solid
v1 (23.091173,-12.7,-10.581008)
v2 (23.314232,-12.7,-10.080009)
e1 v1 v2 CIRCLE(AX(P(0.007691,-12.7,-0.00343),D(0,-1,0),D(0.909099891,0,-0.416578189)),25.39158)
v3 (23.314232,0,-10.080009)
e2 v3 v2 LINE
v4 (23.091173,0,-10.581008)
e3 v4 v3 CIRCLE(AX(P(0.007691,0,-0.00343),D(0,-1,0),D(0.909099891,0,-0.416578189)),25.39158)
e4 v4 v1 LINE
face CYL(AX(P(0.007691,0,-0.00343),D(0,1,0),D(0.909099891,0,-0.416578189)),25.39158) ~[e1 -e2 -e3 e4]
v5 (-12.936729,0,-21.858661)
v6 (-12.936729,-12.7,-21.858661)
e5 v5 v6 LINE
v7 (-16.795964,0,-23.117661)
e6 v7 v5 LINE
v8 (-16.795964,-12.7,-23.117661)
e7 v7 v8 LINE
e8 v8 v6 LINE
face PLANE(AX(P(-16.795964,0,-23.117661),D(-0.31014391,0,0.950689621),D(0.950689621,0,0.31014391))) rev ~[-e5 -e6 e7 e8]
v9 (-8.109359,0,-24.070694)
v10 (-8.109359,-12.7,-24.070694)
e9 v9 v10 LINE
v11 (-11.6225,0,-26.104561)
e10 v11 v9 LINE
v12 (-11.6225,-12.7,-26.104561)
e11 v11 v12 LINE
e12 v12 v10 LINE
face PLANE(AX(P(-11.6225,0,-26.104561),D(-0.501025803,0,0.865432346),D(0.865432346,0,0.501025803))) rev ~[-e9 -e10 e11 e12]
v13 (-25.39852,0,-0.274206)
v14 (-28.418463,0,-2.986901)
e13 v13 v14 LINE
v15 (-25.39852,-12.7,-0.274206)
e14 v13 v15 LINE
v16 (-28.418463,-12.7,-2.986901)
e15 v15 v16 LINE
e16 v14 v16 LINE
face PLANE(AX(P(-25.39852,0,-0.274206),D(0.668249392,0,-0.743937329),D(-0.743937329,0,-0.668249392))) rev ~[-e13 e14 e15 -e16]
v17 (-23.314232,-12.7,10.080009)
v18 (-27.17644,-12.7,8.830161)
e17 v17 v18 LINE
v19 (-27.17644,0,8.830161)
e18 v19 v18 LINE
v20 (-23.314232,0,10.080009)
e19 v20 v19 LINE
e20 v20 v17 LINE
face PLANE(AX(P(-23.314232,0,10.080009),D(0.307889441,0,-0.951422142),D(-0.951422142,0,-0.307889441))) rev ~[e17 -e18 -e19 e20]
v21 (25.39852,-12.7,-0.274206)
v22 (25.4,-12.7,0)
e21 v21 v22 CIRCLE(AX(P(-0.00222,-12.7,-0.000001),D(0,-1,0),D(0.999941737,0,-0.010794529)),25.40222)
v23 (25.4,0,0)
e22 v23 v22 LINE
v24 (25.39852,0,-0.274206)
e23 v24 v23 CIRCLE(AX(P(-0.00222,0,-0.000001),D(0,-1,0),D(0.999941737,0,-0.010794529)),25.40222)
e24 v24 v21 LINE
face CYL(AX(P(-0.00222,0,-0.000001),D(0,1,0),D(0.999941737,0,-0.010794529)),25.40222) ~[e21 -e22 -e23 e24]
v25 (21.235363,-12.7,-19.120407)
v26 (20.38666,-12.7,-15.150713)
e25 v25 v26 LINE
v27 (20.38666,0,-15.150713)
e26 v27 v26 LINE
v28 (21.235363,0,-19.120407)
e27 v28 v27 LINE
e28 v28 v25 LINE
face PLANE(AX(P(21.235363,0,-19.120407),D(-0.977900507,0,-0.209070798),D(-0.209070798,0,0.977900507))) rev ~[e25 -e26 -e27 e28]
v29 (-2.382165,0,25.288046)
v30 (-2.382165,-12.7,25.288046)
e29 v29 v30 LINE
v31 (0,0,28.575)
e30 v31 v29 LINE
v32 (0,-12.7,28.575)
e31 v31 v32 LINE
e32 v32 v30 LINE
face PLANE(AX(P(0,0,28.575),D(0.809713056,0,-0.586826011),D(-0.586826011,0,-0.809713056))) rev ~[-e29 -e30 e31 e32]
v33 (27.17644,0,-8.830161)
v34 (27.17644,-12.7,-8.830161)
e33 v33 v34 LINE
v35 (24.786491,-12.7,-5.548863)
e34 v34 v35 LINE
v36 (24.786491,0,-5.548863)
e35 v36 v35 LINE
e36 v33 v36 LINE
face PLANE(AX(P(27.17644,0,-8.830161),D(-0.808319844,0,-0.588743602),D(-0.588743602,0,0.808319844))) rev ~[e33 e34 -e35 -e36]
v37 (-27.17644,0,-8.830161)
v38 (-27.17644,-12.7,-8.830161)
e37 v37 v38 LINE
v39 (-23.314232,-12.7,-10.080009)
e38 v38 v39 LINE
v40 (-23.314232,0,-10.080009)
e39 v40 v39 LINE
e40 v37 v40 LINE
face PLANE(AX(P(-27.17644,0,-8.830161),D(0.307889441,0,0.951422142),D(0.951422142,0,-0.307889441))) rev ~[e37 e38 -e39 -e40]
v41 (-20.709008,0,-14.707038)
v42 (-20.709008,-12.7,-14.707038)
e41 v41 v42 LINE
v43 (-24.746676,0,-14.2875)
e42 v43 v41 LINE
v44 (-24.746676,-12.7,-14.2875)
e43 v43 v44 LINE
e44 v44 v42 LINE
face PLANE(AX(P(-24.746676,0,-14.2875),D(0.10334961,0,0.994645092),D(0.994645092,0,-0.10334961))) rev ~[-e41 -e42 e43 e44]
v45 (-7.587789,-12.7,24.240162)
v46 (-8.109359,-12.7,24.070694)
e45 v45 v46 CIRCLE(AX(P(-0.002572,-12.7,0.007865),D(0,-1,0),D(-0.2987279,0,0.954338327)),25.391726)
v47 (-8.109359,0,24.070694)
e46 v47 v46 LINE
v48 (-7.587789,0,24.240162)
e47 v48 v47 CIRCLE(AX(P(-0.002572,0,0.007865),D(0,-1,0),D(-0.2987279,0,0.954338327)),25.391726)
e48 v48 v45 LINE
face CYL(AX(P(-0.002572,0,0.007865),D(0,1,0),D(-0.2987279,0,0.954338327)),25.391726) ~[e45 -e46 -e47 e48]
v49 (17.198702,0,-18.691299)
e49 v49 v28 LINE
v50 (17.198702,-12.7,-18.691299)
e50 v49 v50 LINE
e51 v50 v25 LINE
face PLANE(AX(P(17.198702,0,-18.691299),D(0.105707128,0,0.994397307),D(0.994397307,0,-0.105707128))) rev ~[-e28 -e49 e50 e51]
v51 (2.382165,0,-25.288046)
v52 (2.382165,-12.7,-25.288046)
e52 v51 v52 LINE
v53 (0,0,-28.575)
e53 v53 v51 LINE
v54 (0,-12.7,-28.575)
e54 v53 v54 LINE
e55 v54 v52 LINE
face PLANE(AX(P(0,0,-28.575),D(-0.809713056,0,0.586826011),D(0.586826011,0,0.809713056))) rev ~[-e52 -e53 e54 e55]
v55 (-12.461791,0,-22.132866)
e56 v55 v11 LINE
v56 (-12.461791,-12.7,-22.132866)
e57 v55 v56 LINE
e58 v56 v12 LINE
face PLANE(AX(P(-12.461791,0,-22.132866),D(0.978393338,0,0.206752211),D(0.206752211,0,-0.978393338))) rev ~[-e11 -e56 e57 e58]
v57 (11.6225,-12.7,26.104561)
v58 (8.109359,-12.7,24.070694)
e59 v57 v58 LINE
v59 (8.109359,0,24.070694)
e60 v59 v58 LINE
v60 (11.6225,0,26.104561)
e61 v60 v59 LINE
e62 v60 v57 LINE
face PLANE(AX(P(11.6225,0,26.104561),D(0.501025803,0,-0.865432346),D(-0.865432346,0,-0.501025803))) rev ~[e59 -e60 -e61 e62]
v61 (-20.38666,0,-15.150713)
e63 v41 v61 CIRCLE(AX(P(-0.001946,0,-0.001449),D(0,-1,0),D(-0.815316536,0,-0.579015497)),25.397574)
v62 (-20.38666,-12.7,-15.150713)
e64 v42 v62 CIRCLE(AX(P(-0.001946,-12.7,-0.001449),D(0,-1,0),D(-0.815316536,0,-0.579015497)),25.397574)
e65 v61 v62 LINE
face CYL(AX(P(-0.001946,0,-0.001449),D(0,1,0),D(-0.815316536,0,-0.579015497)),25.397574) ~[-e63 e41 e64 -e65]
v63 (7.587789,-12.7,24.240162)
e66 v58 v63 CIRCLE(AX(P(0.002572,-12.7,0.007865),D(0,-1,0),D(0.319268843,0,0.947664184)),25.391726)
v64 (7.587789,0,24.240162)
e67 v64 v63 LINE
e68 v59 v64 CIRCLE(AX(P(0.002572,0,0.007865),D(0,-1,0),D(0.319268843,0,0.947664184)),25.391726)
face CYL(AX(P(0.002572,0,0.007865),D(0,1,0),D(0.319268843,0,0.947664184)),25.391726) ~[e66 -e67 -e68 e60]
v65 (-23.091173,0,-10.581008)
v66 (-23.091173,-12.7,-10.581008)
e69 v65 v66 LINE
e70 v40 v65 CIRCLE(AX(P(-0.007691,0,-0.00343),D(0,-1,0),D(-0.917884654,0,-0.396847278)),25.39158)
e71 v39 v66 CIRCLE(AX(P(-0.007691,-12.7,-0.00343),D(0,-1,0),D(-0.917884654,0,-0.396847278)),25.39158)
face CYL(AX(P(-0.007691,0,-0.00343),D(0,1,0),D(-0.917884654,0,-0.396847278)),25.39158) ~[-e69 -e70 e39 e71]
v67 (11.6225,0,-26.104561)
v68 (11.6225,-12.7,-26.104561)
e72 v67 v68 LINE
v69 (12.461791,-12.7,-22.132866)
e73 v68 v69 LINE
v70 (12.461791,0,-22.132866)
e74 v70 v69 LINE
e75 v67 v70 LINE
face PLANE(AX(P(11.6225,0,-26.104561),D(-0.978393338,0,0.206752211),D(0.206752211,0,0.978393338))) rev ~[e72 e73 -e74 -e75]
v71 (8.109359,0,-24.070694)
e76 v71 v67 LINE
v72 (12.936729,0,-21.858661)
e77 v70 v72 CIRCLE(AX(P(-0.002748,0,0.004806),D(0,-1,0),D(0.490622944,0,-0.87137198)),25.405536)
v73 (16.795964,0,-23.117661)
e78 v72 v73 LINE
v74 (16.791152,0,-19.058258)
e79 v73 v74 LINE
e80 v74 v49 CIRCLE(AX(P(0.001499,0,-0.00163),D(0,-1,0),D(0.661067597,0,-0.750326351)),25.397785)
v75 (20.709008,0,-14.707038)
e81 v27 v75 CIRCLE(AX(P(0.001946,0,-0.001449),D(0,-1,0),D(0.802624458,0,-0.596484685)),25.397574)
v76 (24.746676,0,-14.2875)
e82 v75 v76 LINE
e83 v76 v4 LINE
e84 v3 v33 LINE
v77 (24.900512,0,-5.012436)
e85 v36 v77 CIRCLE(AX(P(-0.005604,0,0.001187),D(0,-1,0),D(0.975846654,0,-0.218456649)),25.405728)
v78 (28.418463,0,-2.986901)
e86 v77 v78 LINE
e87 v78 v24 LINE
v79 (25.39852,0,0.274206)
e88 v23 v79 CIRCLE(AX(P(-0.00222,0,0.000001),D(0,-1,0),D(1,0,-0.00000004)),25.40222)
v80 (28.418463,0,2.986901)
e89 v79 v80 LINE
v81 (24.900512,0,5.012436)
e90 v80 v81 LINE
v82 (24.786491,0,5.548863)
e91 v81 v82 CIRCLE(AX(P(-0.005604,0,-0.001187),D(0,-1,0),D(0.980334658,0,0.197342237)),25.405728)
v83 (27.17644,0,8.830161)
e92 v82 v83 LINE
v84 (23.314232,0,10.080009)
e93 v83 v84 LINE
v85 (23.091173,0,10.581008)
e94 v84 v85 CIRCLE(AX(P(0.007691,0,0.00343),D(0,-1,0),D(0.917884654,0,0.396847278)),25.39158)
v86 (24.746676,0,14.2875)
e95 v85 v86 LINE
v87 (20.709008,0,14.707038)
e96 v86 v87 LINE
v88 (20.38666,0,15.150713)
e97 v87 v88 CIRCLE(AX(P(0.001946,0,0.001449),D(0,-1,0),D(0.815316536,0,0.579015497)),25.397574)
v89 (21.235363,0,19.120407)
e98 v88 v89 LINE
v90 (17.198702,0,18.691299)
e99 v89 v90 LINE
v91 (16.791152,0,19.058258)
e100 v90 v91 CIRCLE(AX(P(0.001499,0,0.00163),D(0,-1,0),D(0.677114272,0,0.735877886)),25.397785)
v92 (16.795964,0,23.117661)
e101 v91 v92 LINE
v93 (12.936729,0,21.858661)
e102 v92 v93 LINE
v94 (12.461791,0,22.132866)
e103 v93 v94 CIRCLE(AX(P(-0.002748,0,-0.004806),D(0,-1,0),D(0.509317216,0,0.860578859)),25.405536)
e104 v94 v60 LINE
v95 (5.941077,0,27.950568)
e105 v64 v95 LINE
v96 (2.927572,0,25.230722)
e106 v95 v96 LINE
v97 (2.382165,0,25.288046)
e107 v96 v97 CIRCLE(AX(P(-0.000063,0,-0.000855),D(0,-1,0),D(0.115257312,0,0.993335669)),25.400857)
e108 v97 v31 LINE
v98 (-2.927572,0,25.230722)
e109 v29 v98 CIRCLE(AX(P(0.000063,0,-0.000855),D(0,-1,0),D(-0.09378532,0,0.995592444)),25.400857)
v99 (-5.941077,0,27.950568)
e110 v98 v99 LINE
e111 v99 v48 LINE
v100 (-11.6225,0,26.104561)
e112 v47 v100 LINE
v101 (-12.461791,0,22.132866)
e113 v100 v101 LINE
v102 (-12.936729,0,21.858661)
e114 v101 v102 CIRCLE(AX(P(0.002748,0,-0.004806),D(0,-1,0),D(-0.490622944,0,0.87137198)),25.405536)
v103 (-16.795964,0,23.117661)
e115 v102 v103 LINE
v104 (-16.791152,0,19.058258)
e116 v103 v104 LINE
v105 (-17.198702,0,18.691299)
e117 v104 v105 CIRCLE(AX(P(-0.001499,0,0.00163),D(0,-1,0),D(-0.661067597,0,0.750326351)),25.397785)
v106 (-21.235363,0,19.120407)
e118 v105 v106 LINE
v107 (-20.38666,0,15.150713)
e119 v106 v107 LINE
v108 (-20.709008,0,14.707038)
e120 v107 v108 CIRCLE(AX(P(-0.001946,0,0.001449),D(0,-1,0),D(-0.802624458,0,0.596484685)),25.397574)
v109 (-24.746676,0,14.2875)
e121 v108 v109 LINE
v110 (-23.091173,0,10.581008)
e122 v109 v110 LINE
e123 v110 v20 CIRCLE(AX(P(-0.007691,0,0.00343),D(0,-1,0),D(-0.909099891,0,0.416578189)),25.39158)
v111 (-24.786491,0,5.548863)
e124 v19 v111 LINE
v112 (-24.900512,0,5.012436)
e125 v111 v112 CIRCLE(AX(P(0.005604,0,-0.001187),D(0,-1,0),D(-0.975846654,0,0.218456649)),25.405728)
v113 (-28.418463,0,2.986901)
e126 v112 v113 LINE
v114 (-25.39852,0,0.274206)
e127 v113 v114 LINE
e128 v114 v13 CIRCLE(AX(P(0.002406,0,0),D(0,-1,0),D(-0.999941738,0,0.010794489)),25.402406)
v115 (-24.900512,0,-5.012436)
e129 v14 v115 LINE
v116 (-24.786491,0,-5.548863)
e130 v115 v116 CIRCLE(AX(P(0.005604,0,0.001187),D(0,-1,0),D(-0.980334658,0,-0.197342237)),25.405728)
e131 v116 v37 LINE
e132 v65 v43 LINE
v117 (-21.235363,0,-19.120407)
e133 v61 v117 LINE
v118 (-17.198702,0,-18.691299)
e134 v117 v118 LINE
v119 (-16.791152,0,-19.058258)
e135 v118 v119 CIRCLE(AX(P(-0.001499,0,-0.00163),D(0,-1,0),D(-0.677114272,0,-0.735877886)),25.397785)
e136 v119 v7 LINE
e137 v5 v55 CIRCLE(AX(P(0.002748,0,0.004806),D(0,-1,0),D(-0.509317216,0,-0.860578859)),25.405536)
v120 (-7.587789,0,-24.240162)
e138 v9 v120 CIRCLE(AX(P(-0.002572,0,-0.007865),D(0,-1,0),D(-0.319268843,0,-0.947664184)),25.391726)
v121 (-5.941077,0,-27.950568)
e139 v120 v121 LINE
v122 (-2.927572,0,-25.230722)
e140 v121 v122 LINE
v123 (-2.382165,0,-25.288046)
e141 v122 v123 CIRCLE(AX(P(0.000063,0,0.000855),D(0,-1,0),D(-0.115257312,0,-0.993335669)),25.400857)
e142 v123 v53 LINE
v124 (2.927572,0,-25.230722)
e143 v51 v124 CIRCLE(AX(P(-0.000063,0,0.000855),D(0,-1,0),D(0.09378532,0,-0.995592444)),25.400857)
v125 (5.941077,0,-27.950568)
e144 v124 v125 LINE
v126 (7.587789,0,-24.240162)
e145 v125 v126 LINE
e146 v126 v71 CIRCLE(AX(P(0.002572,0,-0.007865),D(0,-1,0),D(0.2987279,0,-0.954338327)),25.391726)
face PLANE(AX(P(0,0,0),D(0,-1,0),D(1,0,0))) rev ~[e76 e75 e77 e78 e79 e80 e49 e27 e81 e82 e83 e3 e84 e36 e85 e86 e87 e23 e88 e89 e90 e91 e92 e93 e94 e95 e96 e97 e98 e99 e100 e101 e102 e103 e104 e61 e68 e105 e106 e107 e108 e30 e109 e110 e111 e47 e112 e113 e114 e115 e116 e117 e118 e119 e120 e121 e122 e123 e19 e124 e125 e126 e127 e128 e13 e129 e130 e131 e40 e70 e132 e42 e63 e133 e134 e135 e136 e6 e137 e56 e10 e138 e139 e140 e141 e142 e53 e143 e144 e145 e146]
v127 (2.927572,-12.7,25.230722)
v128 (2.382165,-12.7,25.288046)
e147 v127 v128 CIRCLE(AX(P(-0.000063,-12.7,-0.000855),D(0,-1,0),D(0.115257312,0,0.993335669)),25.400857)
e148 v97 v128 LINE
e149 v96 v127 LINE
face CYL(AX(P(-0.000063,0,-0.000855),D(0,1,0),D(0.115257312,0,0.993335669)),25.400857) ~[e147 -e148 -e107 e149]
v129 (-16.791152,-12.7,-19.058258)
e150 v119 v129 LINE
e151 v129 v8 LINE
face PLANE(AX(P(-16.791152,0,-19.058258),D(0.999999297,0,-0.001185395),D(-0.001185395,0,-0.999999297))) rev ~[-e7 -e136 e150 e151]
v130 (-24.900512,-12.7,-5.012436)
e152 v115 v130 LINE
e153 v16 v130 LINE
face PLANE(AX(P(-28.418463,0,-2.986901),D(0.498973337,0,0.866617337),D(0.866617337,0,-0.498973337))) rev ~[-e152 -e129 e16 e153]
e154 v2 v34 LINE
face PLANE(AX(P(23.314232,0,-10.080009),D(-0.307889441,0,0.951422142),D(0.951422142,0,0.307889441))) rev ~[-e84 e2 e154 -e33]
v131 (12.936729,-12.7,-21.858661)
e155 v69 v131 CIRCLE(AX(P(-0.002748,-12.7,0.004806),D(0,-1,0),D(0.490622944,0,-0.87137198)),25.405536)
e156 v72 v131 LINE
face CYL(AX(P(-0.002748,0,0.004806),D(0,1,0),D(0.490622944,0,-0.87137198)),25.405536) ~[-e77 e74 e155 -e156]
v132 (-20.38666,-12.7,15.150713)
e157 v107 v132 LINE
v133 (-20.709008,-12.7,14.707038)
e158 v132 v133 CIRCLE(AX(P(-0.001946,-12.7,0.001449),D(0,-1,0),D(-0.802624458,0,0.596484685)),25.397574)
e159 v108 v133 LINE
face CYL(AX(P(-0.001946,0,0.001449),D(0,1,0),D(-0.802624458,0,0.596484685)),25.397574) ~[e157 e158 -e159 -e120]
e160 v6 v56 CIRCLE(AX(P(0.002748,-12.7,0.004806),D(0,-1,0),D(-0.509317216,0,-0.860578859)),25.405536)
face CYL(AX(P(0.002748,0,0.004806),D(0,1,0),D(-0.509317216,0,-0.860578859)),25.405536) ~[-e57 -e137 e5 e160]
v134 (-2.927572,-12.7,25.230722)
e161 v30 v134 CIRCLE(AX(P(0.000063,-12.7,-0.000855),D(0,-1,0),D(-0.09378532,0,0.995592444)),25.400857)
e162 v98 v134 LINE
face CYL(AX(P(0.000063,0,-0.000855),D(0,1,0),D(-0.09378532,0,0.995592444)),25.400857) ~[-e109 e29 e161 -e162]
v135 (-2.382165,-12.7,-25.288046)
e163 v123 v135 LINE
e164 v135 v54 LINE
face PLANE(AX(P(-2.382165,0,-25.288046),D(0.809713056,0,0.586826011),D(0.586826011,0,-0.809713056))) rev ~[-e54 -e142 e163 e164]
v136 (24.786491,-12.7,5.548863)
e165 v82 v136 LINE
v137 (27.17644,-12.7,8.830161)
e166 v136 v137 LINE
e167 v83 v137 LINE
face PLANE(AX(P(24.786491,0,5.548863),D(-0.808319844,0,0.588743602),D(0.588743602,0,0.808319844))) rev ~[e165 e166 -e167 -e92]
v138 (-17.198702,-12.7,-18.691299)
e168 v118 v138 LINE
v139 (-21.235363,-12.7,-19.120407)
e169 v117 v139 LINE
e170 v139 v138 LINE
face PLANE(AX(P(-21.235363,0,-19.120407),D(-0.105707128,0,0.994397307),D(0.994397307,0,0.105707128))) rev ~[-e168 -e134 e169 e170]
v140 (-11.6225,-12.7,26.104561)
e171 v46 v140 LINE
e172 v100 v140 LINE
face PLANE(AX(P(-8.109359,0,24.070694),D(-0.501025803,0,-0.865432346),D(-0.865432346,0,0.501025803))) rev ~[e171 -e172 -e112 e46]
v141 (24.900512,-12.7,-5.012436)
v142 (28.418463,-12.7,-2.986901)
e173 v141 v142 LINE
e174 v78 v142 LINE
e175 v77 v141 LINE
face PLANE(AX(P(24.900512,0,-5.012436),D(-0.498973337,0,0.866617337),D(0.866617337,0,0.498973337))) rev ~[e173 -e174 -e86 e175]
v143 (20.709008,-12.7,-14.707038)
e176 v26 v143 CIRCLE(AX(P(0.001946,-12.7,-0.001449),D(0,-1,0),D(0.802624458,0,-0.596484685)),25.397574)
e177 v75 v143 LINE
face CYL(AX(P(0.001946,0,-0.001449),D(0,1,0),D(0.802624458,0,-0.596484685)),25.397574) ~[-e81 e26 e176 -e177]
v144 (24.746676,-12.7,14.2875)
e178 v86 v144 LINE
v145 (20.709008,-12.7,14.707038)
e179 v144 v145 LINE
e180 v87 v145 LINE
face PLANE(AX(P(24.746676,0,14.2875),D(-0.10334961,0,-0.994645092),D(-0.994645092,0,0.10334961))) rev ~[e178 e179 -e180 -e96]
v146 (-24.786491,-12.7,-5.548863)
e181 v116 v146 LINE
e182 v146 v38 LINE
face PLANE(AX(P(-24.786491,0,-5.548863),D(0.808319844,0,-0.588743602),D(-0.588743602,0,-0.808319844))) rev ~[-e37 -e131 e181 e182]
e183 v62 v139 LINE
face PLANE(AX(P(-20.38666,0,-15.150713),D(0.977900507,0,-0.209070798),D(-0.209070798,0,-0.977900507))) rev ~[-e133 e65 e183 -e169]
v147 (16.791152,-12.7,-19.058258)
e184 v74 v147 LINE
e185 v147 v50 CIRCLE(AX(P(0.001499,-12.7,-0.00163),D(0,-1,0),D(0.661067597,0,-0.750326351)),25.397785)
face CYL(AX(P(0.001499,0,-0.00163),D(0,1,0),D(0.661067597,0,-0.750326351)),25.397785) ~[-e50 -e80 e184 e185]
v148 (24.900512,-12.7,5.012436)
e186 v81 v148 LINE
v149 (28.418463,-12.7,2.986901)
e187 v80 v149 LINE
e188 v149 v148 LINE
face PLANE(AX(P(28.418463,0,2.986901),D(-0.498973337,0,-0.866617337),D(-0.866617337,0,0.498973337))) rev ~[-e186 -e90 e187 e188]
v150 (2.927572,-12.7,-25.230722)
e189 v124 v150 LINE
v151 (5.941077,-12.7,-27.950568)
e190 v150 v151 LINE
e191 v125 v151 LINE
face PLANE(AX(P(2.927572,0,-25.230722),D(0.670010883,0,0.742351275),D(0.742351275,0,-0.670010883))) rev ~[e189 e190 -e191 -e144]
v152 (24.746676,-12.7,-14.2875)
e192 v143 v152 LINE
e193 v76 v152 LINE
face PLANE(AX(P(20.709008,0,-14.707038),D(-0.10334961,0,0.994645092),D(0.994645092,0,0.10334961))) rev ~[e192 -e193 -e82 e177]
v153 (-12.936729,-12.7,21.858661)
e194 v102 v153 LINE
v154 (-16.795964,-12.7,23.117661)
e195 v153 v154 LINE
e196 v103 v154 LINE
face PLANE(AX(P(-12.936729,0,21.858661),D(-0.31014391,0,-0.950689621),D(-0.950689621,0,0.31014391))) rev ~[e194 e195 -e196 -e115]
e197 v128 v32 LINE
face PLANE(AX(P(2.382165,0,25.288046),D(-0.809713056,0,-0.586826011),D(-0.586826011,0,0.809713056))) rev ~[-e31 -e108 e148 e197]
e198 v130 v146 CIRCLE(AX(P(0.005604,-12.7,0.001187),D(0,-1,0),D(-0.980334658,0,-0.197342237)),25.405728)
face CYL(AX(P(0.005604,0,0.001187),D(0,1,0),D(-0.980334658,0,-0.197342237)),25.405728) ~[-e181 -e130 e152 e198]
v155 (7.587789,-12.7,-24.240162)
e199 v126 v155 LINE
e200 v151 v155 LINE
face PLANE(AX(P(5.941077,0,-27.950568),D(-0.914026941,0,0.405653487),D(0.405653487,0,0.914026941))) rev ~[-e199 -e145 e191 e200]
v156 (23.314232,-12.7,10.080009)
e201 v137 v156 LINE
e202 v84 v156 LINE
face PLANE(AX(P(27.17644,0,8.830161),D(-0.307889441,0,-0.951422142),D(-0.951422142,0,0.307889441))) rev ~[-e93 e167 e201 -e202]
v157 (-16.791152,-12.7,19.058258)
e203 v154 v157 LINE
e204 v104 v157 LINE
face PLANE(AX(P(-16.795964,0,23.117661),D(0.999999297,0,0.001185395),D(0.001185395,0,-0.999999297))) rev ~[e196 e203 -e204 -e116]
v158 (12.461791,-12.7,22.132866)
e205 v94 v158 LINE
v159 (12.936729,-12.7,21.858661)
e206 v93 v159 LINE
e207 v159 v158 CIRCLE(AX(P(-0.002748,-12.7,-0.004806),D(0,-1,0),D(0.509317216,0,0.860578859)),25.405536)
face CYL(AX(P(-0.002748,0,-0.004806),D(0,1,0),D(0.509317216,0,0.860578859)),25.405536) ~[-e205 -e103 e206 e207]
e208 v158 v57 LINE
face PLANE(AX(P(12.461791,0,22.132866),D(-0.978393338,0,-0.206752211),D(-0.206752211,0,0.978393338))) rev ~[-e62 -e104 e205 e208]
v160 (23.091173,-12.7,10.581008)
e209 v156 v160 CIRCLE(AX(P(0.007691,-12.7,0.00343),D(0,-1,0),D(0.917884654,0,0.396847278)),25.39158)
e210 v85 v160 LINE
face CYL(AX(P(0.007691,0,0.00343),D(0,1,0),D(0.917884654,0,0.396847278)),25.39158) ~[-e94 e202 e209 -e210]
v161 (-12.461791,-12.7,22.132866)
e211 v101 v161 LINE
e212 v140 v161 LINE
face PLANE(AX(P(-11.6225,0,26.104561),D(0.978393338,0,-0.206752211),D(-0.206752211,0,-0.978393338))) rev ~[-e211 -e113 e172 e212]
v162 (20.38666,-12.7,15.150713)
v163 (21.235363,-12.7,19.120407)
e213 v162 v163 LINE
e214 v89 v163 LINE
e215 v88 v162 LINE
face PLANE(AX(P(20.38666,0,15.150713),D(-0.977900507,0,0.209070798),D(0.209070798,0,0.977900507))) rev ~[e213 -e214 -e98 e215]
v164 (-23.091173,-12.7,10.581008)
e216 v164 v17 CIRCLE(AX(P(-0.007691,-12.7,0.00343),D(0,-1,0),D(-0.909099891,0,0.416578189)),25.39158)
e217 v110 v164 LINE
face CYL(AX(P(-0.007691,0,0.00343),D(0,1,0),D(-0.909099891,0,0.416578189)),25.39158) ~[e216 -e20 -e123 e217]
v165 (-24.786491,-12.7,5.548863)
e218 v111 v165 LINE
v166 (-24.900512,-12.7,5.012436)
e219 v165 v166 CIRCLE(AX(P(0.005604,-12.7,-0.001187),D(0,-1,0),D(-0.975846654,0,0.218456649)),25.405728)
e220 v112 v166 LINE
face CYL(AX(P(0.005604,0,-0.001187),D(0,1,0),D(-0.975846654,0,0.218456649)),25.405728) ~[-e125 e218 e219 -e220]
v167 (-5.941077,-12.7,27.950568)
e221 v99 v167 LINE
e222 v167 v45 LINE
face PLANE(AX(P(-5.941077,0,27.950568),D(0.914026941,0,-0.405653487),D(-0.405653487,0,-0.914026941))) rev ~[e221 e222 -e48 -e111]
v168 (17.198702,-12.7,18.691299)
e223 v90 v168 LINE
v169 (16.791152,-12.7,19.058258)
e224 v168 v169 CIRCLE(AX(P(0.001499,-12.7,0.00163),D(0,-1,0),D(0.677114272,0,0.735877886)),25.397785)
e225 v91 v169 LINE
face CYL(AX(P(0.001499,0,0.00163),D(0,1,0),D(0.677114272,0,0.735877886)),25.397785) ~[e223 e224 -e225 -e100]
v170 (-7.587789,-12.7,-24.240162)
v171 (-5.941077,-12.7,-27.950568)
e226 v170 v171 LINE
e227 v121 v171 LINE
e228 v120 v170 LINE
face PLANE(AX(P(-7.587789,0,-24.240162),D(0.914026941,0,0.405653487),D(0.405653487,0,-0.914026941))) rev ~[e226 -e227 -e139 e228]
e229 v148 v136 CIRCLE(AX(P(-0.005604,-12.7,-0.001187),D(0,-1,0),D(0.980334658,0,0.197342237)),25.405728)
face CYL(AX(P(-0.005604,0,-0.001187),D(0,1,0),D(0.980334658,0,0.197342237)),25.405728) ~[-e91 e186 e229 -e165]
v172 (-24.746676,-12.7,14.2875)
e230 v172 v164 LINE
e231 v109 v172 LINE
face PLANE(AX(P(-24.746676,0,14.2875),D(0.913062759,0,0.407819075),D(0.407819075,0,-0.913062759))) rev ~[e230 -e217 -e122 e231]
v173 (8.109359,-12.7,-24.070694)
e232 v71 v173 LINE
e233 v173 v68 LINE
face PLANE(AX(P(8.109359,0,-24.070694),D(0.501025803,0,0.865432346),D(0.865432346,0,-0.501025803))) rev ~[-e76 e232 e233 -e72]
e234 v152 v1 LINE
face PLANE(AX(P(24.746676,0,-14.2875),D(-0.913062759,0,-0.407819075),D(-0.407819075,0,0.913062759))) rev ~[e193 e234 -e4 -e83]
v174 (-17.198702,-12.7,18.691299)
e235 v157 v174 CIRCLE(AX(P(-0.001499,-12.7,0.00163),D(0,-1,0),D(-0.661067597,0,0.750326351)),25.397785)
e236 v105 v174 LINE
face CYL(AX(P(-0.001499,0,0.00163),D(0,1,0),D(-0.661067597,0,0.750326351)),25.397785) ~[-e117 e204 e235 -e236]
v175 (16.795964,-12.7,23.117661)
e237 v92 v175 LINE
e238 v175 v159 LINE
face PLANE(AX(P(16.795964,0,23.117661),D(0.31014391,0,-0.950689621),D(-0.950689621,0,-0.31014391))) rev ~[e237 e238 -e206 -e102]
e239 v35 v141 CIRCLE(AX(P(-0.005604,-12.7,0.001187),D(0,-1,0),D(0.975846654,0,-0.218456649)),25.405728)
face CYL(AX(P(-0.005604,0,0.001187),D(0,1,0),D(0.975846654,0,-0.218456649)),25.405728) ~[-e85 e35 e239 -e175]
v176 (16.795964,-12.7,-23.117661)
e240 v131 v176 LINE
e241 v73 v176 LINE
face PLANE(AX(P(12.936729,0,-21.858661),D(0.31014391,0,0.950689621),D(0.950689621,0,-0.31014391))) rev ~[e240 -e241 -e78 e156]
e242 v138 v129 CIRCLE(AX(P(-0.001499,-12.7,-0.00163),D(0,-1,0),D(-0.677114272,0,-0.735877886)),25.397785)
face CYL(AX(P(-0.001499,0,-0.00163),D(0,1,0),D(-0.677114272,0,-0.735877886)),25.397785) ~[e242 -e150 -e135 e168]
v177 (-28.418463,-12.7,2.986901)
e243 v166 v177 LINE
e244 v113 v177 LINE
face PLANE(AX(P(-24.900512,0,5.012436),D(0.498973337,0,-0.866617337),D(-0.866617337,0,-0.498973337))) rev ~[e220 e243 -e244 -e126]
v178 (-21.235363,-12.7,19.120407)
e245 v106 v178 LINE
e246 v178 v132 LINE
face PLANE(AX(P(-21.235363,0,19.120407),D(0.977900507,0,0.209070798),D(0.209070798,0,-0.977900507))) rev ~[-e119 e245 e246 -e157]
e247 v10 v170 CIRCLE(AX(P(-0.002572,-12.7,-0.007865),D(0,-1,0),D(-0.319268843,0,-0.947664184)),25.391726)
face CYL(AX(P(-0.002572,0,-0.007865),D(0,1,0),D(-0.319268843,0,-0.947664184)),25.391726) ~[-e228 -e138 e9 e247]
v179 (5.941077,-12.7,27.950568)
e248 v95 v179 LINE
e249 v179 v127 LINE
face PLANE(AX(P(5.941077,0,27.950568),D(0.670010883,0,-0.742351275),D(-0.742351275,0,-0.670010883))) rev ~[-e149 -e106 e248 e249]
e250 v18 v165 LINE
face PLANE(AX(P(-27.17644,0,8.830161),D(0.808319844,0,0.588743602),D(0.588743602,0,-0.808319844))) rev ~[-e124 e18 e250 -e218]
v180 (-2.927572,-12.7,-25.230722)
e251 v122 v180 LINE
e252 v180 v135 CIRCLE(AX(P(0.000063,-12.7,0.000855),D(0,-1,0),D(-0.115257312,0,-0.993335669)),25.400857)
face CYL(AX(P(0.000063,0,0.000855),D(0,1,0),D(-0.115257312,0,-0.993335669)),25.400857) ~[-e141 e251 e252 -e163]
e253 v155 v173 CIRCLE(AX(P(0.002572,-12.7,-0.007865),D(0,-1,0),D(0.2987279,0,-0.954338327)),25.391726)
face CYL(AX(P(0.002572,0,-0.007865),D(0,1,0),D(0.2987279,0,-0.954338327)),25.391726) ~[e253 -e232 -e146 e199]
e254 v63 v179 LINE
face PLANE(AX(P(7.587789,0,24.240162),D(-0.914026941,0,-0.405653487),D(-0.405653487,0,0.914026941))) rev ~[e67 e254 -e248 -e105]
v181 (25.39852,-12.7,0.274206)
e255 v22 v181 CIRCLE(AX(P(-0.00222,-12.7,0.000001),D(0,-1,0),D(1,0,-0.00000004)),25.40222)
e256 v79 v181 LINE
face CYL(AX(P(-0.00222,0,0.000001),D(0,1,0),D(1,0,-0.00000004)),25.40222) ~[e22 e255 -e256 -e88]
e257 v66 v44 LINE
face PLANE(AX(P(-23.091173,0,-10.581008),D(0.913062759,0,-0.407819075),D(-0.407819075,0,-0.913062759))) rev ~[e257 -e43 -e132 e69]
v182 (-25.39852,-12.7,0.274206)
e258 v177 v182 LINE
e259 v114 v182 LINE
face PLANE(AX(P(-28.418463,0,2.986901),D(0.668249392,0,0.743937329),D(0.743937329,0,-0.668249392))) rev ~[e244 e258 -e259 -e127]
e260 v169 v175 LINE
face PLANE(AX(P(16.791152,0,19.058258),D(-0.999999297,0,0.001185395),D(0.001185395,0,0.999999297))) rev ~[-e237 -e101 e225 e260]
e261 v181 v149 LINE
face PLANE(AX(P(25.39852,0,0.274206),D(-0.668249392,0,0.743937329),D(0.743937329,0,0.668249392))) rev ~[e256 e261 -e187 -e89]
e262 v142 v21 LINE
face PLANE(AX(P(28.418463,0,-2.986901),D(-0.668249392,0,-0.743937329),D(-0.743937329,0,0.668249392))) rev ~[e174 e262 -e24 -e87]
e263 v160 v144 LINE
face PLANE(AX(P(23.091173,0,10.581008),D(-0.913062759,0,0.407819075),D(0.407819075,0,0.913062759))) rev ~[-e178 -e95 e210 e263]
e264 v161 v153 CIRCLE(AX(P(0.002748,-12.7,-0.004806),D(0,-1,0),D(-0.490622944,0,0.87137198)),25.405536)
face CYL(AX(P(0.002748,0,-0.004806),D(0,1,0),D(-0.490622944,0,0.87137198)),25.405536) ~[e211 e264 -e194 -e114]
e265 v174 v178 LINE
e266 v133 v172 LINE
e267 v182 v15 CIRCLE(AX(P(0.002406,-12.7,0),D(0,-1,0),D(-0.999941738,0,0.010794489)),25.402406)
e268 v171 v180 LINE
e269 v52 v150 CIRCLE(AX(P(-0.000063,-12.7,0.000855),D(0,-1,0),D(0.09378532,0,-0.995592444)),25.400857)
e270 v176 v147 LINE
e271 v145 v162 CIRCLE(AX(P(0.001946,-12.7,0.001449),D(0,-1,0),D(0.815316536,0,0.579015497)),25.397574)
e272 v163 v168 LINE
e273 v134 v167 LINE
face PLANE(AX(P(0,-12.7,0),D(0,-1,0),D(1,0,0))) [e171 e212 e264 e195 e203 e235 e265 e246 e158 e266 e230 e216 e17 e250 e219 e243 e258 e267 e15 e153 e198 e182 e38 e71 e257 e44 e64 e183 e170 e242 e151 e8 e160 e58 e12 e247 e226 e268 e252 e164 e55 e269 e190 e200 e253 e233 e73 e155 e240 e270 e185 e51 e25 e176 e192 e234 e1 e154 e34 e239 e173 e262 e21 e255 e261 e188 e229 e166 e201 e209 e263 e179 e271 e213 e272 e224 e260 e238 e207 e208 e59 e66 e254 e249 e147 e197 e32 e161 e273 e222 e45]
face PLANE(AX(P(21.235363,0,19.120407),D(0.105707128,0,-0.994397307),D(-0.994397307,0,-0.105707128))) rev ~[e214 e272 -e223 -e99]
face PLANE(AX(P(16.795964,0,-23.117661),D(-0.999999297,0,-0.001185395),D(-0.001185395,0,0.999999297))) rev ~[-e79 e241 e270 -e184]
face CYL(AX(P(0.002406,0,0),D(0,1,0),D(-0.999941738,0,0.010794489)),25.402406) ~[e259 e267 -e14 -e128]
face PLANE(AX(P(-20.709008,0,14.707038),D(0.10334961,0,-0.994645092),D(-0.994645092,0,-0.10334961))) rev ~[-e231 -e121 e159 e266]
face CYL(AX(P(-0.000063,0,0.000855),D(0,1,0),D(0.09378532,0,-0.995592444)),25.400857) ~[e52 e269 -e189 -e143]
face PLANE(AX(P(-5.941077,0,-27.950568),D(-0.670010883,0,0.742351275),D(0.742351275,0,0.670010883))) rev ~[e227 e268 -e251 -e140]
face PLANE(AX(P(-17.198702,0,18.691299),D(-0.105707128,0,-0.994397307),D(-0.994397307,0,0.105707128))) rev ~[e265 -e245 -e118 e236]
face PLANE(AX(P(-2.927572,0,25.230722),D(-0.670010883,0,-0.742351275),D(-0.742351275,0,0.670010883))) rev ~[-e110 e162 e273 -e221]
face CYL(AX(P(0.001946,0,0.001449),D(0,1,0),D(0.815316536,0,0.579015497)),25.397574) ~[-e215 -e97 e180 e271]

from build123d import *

# Parameters (mm, degrees)
F1_DEPTH = 12.7


with BuildPart() as f1:
    # F0 (on Front) → F1 (new body)
    with BuildSketch(Plane.XZ):
        with BuildLine():
            ThreePointArc((25.39852, -0.274206), (25.39963, -0.137105), (25.4, 0))
            ThreePointArc((25.4, 0), (25.39963, 0.137105), (25.39852, 0.274206))
            ThreePointArc((25.39852, 0.274206), (25.260856, 2.655023), (24.900512, 5.012436))
            ThreePointArc((24.900512, 5.012436), (24.844949, 5.280957), (24.786491, 5.548863))
            ThreePointArc((24.786491, 5.548863), (24.156836, 7.849032), (23.314232, 10.080009))
            ThreePointArc((23.314232, 10.080009), (23.204055, 10.331111), (23.091173, 10.581008))
            ThreePointArc((23.091173, 10.581008), (21.997045, 12.7), (20.709008, 14.707038))
            ThreePointArc((20.709008, 14.707038), (20.549032, 14.929745), (20.38666, 15.150713))
            ThreePointArc((20.38666, 15.150713), (18.875879, 16.995917), (17.198702, 18.691299))
            ThreePointArc((17.198702, 18.691299), (16.995917, 18.875879), (16.791152, 19.058258))
            ThreePointArc((16.791152, 19.058258), (14.929745, 20.549032), (12.936729, 21.858661))
            ThreePointArc((12.936729, 21.858661), (12.7, 21.997045), (12.461791, 22.132866))
            ThreePointArc((12.461791, 22.132866), (10.331111, 23.204055), (8.109359, 24.070694))
            ThreePointArc((8.109359, 24.070694), (7.849032, 24.156836), (7.587789, 24.240162))
            ThreePointArc((7.587789, 24.240162), (5.280957, 24.844949), (2.927572, 25.230722))
            ThreePointArc((2.927572, 25.230722), (2.655023, 25.260856), (2.382165, 25.288046))
            ThreePointArc((2.382165, 25.288046), (0, 25.4), (-2.382165, 25.288046))
            ThreePointArc((-2.382165, 25.288046), (-2.655023, 25.260856), (-2.927572, 25.230722))
            ThreePointArc((-2.927572, 25.230722), (-5.280957, 24.844949), (-7.587789, 24.240162))
            ThreePointArc((-7.587789, 24.240162), (-7.849032, 24.156836), (-8.109359, 24.070694))
            ThreePointArc((-8.109359, 24.070694), (-10.331111, 23.204055), (-12.461791, 22.132866))
            ThreePointArc((-12.461791, 22.132866), (-12.7, 21.997045), (-12.936729, 21.858661))
            ThreePointArc((-12.936729, 21.858661), (-14.929745, 20.549032), (-16.791152, 19.058258))
            ThreePointArc((-16.791152, 19.058258), (-16.995917, 18.875879), (-17.198702, 18.691299))
            ThreePointArc((-17.198702, 18.691299), (-18.875879, 16.995917), (-20.38666, 15.150713))
            ThreePointArc((-20.38666, 15.150713), (-20.549032, 14.929745), (-20.709008, 14.707038))
            ThreePointArc((-20.709008, 14.707038), (-21.997045, 12.7), (-23.091173, 10.581008))
            ThreePointArc((-23.091173, 10.581008), (-23.204055, 10.331111), (-23.314232, 10.080009))
            ThreePointArc((-23.314232, 10.080009), (-24.156836, 7.849032), (-24.786491, 5.548863))
            ThreePointArc((-24.786491, 5.548863), (-24.844949, 5.280957), (-24.900512, 5.012436))
            ThreePointArc((-24.900512, 5.012436), (-25.260856, 2.655023), (-25.39852, 0.274206))
            ThreePointArc((-25.39852, 0.274206), (-25.4, 0), (-25.39852, -0.274206))
            ThreePointArc((-25.39852, -0.274206), (-25.260856, -2.655023), (-24.900512, -5.012436))
            ThreePointArc((-24.900512, -5.012436), (-24.844949, -5.280957), (-24.786491, -5.548863))
            ThreePointArc((-24.786491, -5.548863), (-24.156836, -7.849032), (-23.314232, -10.080009))
            ThreePointArc((-23.314232, -10.080009), (-23.204055, -10.331111), (-23.091173, -10.581008))
            ThreePointArc((-23.091173, -10.581008), (-21.997045, -12.7), (-20.709008, -14.707038))
            ThreePointArc((-20.709008, -14.707038), (-20.549032, -14.929745), (-20.38666, -15.150713))
            ThreePointArc((-20.38666, -15.150713), (-18.875879, -16.995917), (-17.198702, -18.691299))
            ThreePointArc((-17.198702, -18.691299), (-16.995917, -18.875879), (-16.791152, -19.058258))
            ThreePointArc((-16.791152, -19.058258), (-14.929745, -20.549032), (-12.936729, -21.858661))
            ThreePointArc((-12.936729, -21.858661), (-12.7, -21.997045), (-12.461791, -22.132866))
            ThreePointArc((-12.461791, -22.132866), (-10.331111, -23.204055), (-8.109359, -24.070694))
            ThreePointArc((-8.109359, -24.070694), (-7.849032, -24.156836), (-7.587789, -24.240162))
            ThreePointArc((-7.587789, -24.240162), (-5.280957, -24.844949), (-2.927572, -25.230722))
            ThreePointArc((-2.927572, -25.230722), (-2.655023, -25.260856), (-2.382165, -25.288046))
            ThreePointArc((-2.382165, -25.288046), (0, -25.4), (2.382165, -25.288046))
            ThreePointArc((2.382165, -25.288046), (2.655023, -25.260856), (2.927572, -25.230722))
            ThreePointArc((2.927572, -25.230722), (5.280957, -24.844949), (7.587789, -24.240162))
            ThreePointArc((7.587789, -24.240162), (7.849032, -24.156836), (8.109359, -24.070694))
            ThreePointArc((8.109359, -24.070694), (10.331111, -23.204055), (12.461791, -22.132866))
            ThreePointArc((12.461791, -22.132866), (12.7, -21.997045), (12.936729, -21.858661))
            ThreePointArc((12.936729, -21.858661), (14.929745, -20.549032), (16.791152, -19.058258))
            ThreePointArc((16.791152, -19.058258), (16.995917, -18.875879), (17.198702, -18.691299))
            ThreePointArc((17.198702, -18.691299), (18.875879, -16.995917), (20.38666, -15.150713))
            ThreePointArc((20.38666, -15.150713), (20.549032, -14.929745), (20.709008, -14.707038))
            ThreePointArc((20.709008, -14.707038), (21.997045, -12.7), (23.091173, -10.581008))
            ThreePointArc((23.091173, -10.581008), (23.204055, -10.331111), (23.314232, -10.080009))
            ThreePointArc((23.314232, -10.080009), (24.156836, -7.849032), (24.786491, -5.548863))
            ThreePointArc((24.786491, -5.548863), (24.844949, -5.280957), (24.900512, -5.012436))
            ThreePointArc((24.900512, -5.012436), (25.260856, -2.655023), (25.39852, -0.274206))
        make_face()
        with BuildLine():
            ThreePointArc((-23.091173, 10.581008), (-21.997045, 12.7), (-20.709008, 14.707038))
            Line((-20.709008, 14.707038), (-24.746676, 14.2875))
            Line((-24.746676, 14.2875), (-23.091173, 10.581008))
        make_face()
        with BuildLine():
            ThreePointArc((-20.38666, 15.150713), (-18.875879, 16.995917), (-17.198702, 18.691299))
            Line((-17.198702, 18.691299), (-21.235363, 19.120407))
            Line((-21.235363, 19.120407), (-20.38666, 15.150713))
        make_face()
        with BuildLine():
            ThreePointArc((-16.791152, 19.058258), (-14.929745, 20.549032), (-12.936729, 21.858661))
            Line((-12.936729, 21.858661), (-16.795964, 23.117661))
            Line((-16.795964, 23.117661), (-16.791152, 19.058258))
        make_face()
        with BuildLine():
            ThreePointArc((-12.461791, 22.132866), (-10.331111, 23.204055), (-8.109359, 24.070694))
            Line((-8.109359, 24.070694), (-11.6225, 26.104561))
            Line((-11.6225, 26.104561), (-12.461791, 22.132866))
        make_face()
        with BuildLine():
            ThreePointArc((-7.587789, 24.240162), (-5.280957, 24.844949), (-2.927572, 25.230722))
            Line((-2.927572, 25.230722), (-5.941077, 27.950568))
            Line((-5.941077, 27.950568), (-7.587789, 24.240162))
        make_face()
        with BuildLine():
            ThreePointArc((-2.382165, 25.288046), (0, 25.4), (2.382165, 25.288046))
            Line((2.382165, 25.288046), (0, 28.575))
            Line((0, 28.575), (-2.382165, 25.288046))
        make_face()
        with BuildLine():
            ThreePointArc((2.927572, 25.230722), (5.280957, 24.844949), (7.587789, 24.240162))
            Line((7.587789, 24.240162), (5.941077, 27.950568))
            Line((5.941077, 27.950568), (2.927572, 25.230722))
        make_face()
        with BuildLine():
            ThreePointArc((8.109359, 24.070694), (10.331111, 23.204055), (12.461791, 22.132866))
            Line((12.461791, 22.132866), (11.6225, 26.104561))
            Line((11.6225, 26.104561), (8.109359, 24.070694))
        make_face()
        with BuildLine():
            ThreePointArc((12.936729, 21.858661), (14.929745, 20.549032), (16.791152, 19.058258))
            Line((16.791152, 19.058258), (16.795964, 23.117661))
            Line((16.795964, 23.117661), (12.936729, 21.858661))
        make_face()
        with BuildLine():
            ThreePointArc((17.198702, 18.691299), (18.875879, 16.995917), (20.38666, 15.150713))
            Line((20.38666, 15.150713), (21.235363, 19.120407))
            Line((21.235363, 19.120407), (17.198702, 18.691299))
        make_face()
        with BuildLine():
            ThreePointArc((20.709008, 14.707038), (21.997045, 12.7), (23.091173, 10.581008))
            Line((23.091173, 10.581008), (24.746676, 14.2875))
            Line((24.746676, 14.2875), (20.709008, 14.707038))
        make_face()
        with BuildLine():
            ThreePointArc((23.314232, 10.080009), (24.156836, 7.849032), (24.786491, 5.548863))
            Line((24.786491, 5.548863), (27.17644, 8.830161))
            Line((27.17644, 8.830161), (23.314232, 10.080009))
        make_face()
        with BuildLine():
            ThreePointArc((24.900512, 5.012436), (25.260856, 2.655023), (25.39852, 0.274206))
            Line((25.39852, 0.274206), (28.418463, 2.986901))
            Line((28.418463, 2.986901), (24.900512, 5.012436))
        make_face()
        with BuildLine():
            Line((28.418463, -2.986901), (25.39852, -0.274206))
            ThreePointArc((25.39852, -0.274206), (25.260856, -2.655023), (24.900512, -5.012436))
            Line((24.900512, -5.012436), (28.418463, -2.986901))
        make_face()
        with BuildLine():
            Line((27.17644, -8.830161), (24.786491, -5.548863))
            ThreePointArc((24.786491, -5.548863), (24.156836, -7.849032), (23.314232, -10.080009))
            Line((23.314232, -10.080009), (27.17644, -8.830161))
        make_face()
        with BuildLine():
            Line((24.746676, -14.2875), (23.091173, -10.581008))
            ThreePointArc((23.091173, -10.581008), (21.997045, -12.7), (20.709008, -14.707038))
            Line((20.709008, -14.707038), (24.746676, -14.2875))
        make_face()
        with BuildLine():
            Line((21.235363, -19.120407), (20.38666, -15.150713))
            ThreePointArc((20.38666, -15.150713), (18.875879, -16.995917), (17.198702, -18.691299))
            Line((17.198702, -18.691299), (21.235363, -19.120407))
        make_face()
        with BuildLine():
            Line((16.795964, -23.117661), (16.791152, -19.058258))
            ThreePointArc((16.791152, -19.058258), (14.929745, -20.549032), (12.936729, -21.858661))
            Line((12.936729, -21.858661), (16.795964, -23.117661))
        make_face()
        with BuildLine():
            Line((11.6225, -26.104561), (12.461791, -22.132866))
            ThreePointArc((12.461791, -22.132866), (10.331111, -23.204055), (8.109359, -24.070694))
            Line((8.109359, -24.070694), (11.6225, -26.104561))
        make_face()
        with BuildLine():
            Line((5.941077, -27.950568), (7.587789, -24.240162))
            ThreePointArc((7.587789, -24.240162), (5.280957, -24.844949), (2.927572, -25.230722))
            Line((2.927572, -25.230722), (5.941077, -27.950568))
        make_face()
        with BuildLine():
            Line((0, -28.575), (2.382165, -25.288046))
            ThreePointArc((2.382165, -25.288046), (0, -25.4), (-2.382165, -25.288046))
            Line((-2.382165, -25.288046), (0, -28.575))
        make_face()
        with BuildLine():
            Line((-5.941077, -27.950568), (-2.927572, -25.230722))
            ThreePointArc((-2.927572, -25.230722), (-5.280957, -24.844949), (-7.587789, -24.240162))
            Line((-7.587789, -24.240162), (-5.941077, -27.950568))
        make_face()
        with BuildLine():
            Line((-11.6225, -26.104561), (-8.109359, -24.070694))
            ThreePointArc((-8.109359, -24.070694), (-10.331111, -23.204055), (-12.461791, -22.132866))
            Line((-12.461791, -22.132866), (-11.6225, -26.104561))
        make_face()
        with BuildLine():
            Line((-16.795964, -23.117661), (-12.936729, -21.858661))
            ThreePointArc((-12.936729, -21.858661), (-14.929745, -20.549032), (-16.791152, -19.058258))
            Line((-16.791152, -19.058258), (-16.795964, -23.117661))
        make_face()
        with BuildLine():
            Line((-21.235363, -19.120407), (-17.198702, -18.691299))
            ThreePointArc((-17.198702, -18.691299), (-18.875879, -16.995917), (-20.38666, -15.150713))
            Line((-20.38666, -15.150713), (-21.235363, -19.120407))
        make_face()
        with BuildLine():
            Line((-24.746676, -14.2875), (-20.709008, -14.707038))
            ThreePointArc((-20.709008, -14.707038), (-21.997045, -12.7), (-23.091173, -10.581008))
            Line((-23.091173, -10.581008), (-24.746676, -14.2875))
        make_face()
        with BuildLine():
            Line((-27.17644, -8.830161), (-23.314232, -10.080009))
            ThreePointArc((-23.314232, -10.080009), (-24.156836, -7.849032), (-24.786491, -5.548863))
            Line((-24.786491, -5.548863), (-27.17644, -8.830161))
        make_face()
        with BuildLine():
            Line((-28.418463, -2.986901), (-24.900512, -5.012436))
            ThreePointArc((-24.900512, -5.012436), (-25.260856, -2.655023), (-25.39852, -0.274206))
            Line((-25.39852, -0.274206), (-28.418463, -2.986901))
        make_face()
        with BuildLine():
            ThreePointArc((-25.39852, 0.274206), (-25.260856, 2.655023), (-24.900512, 5.012436))
            Line((-24.900512, 5.012436), (-28.418463, 2.986901))
            Line((-28.418463, 2.986901), (-25.39852, 0.274206))
        make_face()
        with BuildLine():
            ThreePointArc((-24.786491, 5.548863), (-24.156836, 7.849032), (-23.314232, 10.080009))
            Line((-23.314232, 10.080009), (-27.17644, 8.830161))
            Line((-27.17644, 8.830161), (-24.786491, 5.548863))
        make_face()
    extrude(amount=F1_DEPTH)


solid = f1.part
